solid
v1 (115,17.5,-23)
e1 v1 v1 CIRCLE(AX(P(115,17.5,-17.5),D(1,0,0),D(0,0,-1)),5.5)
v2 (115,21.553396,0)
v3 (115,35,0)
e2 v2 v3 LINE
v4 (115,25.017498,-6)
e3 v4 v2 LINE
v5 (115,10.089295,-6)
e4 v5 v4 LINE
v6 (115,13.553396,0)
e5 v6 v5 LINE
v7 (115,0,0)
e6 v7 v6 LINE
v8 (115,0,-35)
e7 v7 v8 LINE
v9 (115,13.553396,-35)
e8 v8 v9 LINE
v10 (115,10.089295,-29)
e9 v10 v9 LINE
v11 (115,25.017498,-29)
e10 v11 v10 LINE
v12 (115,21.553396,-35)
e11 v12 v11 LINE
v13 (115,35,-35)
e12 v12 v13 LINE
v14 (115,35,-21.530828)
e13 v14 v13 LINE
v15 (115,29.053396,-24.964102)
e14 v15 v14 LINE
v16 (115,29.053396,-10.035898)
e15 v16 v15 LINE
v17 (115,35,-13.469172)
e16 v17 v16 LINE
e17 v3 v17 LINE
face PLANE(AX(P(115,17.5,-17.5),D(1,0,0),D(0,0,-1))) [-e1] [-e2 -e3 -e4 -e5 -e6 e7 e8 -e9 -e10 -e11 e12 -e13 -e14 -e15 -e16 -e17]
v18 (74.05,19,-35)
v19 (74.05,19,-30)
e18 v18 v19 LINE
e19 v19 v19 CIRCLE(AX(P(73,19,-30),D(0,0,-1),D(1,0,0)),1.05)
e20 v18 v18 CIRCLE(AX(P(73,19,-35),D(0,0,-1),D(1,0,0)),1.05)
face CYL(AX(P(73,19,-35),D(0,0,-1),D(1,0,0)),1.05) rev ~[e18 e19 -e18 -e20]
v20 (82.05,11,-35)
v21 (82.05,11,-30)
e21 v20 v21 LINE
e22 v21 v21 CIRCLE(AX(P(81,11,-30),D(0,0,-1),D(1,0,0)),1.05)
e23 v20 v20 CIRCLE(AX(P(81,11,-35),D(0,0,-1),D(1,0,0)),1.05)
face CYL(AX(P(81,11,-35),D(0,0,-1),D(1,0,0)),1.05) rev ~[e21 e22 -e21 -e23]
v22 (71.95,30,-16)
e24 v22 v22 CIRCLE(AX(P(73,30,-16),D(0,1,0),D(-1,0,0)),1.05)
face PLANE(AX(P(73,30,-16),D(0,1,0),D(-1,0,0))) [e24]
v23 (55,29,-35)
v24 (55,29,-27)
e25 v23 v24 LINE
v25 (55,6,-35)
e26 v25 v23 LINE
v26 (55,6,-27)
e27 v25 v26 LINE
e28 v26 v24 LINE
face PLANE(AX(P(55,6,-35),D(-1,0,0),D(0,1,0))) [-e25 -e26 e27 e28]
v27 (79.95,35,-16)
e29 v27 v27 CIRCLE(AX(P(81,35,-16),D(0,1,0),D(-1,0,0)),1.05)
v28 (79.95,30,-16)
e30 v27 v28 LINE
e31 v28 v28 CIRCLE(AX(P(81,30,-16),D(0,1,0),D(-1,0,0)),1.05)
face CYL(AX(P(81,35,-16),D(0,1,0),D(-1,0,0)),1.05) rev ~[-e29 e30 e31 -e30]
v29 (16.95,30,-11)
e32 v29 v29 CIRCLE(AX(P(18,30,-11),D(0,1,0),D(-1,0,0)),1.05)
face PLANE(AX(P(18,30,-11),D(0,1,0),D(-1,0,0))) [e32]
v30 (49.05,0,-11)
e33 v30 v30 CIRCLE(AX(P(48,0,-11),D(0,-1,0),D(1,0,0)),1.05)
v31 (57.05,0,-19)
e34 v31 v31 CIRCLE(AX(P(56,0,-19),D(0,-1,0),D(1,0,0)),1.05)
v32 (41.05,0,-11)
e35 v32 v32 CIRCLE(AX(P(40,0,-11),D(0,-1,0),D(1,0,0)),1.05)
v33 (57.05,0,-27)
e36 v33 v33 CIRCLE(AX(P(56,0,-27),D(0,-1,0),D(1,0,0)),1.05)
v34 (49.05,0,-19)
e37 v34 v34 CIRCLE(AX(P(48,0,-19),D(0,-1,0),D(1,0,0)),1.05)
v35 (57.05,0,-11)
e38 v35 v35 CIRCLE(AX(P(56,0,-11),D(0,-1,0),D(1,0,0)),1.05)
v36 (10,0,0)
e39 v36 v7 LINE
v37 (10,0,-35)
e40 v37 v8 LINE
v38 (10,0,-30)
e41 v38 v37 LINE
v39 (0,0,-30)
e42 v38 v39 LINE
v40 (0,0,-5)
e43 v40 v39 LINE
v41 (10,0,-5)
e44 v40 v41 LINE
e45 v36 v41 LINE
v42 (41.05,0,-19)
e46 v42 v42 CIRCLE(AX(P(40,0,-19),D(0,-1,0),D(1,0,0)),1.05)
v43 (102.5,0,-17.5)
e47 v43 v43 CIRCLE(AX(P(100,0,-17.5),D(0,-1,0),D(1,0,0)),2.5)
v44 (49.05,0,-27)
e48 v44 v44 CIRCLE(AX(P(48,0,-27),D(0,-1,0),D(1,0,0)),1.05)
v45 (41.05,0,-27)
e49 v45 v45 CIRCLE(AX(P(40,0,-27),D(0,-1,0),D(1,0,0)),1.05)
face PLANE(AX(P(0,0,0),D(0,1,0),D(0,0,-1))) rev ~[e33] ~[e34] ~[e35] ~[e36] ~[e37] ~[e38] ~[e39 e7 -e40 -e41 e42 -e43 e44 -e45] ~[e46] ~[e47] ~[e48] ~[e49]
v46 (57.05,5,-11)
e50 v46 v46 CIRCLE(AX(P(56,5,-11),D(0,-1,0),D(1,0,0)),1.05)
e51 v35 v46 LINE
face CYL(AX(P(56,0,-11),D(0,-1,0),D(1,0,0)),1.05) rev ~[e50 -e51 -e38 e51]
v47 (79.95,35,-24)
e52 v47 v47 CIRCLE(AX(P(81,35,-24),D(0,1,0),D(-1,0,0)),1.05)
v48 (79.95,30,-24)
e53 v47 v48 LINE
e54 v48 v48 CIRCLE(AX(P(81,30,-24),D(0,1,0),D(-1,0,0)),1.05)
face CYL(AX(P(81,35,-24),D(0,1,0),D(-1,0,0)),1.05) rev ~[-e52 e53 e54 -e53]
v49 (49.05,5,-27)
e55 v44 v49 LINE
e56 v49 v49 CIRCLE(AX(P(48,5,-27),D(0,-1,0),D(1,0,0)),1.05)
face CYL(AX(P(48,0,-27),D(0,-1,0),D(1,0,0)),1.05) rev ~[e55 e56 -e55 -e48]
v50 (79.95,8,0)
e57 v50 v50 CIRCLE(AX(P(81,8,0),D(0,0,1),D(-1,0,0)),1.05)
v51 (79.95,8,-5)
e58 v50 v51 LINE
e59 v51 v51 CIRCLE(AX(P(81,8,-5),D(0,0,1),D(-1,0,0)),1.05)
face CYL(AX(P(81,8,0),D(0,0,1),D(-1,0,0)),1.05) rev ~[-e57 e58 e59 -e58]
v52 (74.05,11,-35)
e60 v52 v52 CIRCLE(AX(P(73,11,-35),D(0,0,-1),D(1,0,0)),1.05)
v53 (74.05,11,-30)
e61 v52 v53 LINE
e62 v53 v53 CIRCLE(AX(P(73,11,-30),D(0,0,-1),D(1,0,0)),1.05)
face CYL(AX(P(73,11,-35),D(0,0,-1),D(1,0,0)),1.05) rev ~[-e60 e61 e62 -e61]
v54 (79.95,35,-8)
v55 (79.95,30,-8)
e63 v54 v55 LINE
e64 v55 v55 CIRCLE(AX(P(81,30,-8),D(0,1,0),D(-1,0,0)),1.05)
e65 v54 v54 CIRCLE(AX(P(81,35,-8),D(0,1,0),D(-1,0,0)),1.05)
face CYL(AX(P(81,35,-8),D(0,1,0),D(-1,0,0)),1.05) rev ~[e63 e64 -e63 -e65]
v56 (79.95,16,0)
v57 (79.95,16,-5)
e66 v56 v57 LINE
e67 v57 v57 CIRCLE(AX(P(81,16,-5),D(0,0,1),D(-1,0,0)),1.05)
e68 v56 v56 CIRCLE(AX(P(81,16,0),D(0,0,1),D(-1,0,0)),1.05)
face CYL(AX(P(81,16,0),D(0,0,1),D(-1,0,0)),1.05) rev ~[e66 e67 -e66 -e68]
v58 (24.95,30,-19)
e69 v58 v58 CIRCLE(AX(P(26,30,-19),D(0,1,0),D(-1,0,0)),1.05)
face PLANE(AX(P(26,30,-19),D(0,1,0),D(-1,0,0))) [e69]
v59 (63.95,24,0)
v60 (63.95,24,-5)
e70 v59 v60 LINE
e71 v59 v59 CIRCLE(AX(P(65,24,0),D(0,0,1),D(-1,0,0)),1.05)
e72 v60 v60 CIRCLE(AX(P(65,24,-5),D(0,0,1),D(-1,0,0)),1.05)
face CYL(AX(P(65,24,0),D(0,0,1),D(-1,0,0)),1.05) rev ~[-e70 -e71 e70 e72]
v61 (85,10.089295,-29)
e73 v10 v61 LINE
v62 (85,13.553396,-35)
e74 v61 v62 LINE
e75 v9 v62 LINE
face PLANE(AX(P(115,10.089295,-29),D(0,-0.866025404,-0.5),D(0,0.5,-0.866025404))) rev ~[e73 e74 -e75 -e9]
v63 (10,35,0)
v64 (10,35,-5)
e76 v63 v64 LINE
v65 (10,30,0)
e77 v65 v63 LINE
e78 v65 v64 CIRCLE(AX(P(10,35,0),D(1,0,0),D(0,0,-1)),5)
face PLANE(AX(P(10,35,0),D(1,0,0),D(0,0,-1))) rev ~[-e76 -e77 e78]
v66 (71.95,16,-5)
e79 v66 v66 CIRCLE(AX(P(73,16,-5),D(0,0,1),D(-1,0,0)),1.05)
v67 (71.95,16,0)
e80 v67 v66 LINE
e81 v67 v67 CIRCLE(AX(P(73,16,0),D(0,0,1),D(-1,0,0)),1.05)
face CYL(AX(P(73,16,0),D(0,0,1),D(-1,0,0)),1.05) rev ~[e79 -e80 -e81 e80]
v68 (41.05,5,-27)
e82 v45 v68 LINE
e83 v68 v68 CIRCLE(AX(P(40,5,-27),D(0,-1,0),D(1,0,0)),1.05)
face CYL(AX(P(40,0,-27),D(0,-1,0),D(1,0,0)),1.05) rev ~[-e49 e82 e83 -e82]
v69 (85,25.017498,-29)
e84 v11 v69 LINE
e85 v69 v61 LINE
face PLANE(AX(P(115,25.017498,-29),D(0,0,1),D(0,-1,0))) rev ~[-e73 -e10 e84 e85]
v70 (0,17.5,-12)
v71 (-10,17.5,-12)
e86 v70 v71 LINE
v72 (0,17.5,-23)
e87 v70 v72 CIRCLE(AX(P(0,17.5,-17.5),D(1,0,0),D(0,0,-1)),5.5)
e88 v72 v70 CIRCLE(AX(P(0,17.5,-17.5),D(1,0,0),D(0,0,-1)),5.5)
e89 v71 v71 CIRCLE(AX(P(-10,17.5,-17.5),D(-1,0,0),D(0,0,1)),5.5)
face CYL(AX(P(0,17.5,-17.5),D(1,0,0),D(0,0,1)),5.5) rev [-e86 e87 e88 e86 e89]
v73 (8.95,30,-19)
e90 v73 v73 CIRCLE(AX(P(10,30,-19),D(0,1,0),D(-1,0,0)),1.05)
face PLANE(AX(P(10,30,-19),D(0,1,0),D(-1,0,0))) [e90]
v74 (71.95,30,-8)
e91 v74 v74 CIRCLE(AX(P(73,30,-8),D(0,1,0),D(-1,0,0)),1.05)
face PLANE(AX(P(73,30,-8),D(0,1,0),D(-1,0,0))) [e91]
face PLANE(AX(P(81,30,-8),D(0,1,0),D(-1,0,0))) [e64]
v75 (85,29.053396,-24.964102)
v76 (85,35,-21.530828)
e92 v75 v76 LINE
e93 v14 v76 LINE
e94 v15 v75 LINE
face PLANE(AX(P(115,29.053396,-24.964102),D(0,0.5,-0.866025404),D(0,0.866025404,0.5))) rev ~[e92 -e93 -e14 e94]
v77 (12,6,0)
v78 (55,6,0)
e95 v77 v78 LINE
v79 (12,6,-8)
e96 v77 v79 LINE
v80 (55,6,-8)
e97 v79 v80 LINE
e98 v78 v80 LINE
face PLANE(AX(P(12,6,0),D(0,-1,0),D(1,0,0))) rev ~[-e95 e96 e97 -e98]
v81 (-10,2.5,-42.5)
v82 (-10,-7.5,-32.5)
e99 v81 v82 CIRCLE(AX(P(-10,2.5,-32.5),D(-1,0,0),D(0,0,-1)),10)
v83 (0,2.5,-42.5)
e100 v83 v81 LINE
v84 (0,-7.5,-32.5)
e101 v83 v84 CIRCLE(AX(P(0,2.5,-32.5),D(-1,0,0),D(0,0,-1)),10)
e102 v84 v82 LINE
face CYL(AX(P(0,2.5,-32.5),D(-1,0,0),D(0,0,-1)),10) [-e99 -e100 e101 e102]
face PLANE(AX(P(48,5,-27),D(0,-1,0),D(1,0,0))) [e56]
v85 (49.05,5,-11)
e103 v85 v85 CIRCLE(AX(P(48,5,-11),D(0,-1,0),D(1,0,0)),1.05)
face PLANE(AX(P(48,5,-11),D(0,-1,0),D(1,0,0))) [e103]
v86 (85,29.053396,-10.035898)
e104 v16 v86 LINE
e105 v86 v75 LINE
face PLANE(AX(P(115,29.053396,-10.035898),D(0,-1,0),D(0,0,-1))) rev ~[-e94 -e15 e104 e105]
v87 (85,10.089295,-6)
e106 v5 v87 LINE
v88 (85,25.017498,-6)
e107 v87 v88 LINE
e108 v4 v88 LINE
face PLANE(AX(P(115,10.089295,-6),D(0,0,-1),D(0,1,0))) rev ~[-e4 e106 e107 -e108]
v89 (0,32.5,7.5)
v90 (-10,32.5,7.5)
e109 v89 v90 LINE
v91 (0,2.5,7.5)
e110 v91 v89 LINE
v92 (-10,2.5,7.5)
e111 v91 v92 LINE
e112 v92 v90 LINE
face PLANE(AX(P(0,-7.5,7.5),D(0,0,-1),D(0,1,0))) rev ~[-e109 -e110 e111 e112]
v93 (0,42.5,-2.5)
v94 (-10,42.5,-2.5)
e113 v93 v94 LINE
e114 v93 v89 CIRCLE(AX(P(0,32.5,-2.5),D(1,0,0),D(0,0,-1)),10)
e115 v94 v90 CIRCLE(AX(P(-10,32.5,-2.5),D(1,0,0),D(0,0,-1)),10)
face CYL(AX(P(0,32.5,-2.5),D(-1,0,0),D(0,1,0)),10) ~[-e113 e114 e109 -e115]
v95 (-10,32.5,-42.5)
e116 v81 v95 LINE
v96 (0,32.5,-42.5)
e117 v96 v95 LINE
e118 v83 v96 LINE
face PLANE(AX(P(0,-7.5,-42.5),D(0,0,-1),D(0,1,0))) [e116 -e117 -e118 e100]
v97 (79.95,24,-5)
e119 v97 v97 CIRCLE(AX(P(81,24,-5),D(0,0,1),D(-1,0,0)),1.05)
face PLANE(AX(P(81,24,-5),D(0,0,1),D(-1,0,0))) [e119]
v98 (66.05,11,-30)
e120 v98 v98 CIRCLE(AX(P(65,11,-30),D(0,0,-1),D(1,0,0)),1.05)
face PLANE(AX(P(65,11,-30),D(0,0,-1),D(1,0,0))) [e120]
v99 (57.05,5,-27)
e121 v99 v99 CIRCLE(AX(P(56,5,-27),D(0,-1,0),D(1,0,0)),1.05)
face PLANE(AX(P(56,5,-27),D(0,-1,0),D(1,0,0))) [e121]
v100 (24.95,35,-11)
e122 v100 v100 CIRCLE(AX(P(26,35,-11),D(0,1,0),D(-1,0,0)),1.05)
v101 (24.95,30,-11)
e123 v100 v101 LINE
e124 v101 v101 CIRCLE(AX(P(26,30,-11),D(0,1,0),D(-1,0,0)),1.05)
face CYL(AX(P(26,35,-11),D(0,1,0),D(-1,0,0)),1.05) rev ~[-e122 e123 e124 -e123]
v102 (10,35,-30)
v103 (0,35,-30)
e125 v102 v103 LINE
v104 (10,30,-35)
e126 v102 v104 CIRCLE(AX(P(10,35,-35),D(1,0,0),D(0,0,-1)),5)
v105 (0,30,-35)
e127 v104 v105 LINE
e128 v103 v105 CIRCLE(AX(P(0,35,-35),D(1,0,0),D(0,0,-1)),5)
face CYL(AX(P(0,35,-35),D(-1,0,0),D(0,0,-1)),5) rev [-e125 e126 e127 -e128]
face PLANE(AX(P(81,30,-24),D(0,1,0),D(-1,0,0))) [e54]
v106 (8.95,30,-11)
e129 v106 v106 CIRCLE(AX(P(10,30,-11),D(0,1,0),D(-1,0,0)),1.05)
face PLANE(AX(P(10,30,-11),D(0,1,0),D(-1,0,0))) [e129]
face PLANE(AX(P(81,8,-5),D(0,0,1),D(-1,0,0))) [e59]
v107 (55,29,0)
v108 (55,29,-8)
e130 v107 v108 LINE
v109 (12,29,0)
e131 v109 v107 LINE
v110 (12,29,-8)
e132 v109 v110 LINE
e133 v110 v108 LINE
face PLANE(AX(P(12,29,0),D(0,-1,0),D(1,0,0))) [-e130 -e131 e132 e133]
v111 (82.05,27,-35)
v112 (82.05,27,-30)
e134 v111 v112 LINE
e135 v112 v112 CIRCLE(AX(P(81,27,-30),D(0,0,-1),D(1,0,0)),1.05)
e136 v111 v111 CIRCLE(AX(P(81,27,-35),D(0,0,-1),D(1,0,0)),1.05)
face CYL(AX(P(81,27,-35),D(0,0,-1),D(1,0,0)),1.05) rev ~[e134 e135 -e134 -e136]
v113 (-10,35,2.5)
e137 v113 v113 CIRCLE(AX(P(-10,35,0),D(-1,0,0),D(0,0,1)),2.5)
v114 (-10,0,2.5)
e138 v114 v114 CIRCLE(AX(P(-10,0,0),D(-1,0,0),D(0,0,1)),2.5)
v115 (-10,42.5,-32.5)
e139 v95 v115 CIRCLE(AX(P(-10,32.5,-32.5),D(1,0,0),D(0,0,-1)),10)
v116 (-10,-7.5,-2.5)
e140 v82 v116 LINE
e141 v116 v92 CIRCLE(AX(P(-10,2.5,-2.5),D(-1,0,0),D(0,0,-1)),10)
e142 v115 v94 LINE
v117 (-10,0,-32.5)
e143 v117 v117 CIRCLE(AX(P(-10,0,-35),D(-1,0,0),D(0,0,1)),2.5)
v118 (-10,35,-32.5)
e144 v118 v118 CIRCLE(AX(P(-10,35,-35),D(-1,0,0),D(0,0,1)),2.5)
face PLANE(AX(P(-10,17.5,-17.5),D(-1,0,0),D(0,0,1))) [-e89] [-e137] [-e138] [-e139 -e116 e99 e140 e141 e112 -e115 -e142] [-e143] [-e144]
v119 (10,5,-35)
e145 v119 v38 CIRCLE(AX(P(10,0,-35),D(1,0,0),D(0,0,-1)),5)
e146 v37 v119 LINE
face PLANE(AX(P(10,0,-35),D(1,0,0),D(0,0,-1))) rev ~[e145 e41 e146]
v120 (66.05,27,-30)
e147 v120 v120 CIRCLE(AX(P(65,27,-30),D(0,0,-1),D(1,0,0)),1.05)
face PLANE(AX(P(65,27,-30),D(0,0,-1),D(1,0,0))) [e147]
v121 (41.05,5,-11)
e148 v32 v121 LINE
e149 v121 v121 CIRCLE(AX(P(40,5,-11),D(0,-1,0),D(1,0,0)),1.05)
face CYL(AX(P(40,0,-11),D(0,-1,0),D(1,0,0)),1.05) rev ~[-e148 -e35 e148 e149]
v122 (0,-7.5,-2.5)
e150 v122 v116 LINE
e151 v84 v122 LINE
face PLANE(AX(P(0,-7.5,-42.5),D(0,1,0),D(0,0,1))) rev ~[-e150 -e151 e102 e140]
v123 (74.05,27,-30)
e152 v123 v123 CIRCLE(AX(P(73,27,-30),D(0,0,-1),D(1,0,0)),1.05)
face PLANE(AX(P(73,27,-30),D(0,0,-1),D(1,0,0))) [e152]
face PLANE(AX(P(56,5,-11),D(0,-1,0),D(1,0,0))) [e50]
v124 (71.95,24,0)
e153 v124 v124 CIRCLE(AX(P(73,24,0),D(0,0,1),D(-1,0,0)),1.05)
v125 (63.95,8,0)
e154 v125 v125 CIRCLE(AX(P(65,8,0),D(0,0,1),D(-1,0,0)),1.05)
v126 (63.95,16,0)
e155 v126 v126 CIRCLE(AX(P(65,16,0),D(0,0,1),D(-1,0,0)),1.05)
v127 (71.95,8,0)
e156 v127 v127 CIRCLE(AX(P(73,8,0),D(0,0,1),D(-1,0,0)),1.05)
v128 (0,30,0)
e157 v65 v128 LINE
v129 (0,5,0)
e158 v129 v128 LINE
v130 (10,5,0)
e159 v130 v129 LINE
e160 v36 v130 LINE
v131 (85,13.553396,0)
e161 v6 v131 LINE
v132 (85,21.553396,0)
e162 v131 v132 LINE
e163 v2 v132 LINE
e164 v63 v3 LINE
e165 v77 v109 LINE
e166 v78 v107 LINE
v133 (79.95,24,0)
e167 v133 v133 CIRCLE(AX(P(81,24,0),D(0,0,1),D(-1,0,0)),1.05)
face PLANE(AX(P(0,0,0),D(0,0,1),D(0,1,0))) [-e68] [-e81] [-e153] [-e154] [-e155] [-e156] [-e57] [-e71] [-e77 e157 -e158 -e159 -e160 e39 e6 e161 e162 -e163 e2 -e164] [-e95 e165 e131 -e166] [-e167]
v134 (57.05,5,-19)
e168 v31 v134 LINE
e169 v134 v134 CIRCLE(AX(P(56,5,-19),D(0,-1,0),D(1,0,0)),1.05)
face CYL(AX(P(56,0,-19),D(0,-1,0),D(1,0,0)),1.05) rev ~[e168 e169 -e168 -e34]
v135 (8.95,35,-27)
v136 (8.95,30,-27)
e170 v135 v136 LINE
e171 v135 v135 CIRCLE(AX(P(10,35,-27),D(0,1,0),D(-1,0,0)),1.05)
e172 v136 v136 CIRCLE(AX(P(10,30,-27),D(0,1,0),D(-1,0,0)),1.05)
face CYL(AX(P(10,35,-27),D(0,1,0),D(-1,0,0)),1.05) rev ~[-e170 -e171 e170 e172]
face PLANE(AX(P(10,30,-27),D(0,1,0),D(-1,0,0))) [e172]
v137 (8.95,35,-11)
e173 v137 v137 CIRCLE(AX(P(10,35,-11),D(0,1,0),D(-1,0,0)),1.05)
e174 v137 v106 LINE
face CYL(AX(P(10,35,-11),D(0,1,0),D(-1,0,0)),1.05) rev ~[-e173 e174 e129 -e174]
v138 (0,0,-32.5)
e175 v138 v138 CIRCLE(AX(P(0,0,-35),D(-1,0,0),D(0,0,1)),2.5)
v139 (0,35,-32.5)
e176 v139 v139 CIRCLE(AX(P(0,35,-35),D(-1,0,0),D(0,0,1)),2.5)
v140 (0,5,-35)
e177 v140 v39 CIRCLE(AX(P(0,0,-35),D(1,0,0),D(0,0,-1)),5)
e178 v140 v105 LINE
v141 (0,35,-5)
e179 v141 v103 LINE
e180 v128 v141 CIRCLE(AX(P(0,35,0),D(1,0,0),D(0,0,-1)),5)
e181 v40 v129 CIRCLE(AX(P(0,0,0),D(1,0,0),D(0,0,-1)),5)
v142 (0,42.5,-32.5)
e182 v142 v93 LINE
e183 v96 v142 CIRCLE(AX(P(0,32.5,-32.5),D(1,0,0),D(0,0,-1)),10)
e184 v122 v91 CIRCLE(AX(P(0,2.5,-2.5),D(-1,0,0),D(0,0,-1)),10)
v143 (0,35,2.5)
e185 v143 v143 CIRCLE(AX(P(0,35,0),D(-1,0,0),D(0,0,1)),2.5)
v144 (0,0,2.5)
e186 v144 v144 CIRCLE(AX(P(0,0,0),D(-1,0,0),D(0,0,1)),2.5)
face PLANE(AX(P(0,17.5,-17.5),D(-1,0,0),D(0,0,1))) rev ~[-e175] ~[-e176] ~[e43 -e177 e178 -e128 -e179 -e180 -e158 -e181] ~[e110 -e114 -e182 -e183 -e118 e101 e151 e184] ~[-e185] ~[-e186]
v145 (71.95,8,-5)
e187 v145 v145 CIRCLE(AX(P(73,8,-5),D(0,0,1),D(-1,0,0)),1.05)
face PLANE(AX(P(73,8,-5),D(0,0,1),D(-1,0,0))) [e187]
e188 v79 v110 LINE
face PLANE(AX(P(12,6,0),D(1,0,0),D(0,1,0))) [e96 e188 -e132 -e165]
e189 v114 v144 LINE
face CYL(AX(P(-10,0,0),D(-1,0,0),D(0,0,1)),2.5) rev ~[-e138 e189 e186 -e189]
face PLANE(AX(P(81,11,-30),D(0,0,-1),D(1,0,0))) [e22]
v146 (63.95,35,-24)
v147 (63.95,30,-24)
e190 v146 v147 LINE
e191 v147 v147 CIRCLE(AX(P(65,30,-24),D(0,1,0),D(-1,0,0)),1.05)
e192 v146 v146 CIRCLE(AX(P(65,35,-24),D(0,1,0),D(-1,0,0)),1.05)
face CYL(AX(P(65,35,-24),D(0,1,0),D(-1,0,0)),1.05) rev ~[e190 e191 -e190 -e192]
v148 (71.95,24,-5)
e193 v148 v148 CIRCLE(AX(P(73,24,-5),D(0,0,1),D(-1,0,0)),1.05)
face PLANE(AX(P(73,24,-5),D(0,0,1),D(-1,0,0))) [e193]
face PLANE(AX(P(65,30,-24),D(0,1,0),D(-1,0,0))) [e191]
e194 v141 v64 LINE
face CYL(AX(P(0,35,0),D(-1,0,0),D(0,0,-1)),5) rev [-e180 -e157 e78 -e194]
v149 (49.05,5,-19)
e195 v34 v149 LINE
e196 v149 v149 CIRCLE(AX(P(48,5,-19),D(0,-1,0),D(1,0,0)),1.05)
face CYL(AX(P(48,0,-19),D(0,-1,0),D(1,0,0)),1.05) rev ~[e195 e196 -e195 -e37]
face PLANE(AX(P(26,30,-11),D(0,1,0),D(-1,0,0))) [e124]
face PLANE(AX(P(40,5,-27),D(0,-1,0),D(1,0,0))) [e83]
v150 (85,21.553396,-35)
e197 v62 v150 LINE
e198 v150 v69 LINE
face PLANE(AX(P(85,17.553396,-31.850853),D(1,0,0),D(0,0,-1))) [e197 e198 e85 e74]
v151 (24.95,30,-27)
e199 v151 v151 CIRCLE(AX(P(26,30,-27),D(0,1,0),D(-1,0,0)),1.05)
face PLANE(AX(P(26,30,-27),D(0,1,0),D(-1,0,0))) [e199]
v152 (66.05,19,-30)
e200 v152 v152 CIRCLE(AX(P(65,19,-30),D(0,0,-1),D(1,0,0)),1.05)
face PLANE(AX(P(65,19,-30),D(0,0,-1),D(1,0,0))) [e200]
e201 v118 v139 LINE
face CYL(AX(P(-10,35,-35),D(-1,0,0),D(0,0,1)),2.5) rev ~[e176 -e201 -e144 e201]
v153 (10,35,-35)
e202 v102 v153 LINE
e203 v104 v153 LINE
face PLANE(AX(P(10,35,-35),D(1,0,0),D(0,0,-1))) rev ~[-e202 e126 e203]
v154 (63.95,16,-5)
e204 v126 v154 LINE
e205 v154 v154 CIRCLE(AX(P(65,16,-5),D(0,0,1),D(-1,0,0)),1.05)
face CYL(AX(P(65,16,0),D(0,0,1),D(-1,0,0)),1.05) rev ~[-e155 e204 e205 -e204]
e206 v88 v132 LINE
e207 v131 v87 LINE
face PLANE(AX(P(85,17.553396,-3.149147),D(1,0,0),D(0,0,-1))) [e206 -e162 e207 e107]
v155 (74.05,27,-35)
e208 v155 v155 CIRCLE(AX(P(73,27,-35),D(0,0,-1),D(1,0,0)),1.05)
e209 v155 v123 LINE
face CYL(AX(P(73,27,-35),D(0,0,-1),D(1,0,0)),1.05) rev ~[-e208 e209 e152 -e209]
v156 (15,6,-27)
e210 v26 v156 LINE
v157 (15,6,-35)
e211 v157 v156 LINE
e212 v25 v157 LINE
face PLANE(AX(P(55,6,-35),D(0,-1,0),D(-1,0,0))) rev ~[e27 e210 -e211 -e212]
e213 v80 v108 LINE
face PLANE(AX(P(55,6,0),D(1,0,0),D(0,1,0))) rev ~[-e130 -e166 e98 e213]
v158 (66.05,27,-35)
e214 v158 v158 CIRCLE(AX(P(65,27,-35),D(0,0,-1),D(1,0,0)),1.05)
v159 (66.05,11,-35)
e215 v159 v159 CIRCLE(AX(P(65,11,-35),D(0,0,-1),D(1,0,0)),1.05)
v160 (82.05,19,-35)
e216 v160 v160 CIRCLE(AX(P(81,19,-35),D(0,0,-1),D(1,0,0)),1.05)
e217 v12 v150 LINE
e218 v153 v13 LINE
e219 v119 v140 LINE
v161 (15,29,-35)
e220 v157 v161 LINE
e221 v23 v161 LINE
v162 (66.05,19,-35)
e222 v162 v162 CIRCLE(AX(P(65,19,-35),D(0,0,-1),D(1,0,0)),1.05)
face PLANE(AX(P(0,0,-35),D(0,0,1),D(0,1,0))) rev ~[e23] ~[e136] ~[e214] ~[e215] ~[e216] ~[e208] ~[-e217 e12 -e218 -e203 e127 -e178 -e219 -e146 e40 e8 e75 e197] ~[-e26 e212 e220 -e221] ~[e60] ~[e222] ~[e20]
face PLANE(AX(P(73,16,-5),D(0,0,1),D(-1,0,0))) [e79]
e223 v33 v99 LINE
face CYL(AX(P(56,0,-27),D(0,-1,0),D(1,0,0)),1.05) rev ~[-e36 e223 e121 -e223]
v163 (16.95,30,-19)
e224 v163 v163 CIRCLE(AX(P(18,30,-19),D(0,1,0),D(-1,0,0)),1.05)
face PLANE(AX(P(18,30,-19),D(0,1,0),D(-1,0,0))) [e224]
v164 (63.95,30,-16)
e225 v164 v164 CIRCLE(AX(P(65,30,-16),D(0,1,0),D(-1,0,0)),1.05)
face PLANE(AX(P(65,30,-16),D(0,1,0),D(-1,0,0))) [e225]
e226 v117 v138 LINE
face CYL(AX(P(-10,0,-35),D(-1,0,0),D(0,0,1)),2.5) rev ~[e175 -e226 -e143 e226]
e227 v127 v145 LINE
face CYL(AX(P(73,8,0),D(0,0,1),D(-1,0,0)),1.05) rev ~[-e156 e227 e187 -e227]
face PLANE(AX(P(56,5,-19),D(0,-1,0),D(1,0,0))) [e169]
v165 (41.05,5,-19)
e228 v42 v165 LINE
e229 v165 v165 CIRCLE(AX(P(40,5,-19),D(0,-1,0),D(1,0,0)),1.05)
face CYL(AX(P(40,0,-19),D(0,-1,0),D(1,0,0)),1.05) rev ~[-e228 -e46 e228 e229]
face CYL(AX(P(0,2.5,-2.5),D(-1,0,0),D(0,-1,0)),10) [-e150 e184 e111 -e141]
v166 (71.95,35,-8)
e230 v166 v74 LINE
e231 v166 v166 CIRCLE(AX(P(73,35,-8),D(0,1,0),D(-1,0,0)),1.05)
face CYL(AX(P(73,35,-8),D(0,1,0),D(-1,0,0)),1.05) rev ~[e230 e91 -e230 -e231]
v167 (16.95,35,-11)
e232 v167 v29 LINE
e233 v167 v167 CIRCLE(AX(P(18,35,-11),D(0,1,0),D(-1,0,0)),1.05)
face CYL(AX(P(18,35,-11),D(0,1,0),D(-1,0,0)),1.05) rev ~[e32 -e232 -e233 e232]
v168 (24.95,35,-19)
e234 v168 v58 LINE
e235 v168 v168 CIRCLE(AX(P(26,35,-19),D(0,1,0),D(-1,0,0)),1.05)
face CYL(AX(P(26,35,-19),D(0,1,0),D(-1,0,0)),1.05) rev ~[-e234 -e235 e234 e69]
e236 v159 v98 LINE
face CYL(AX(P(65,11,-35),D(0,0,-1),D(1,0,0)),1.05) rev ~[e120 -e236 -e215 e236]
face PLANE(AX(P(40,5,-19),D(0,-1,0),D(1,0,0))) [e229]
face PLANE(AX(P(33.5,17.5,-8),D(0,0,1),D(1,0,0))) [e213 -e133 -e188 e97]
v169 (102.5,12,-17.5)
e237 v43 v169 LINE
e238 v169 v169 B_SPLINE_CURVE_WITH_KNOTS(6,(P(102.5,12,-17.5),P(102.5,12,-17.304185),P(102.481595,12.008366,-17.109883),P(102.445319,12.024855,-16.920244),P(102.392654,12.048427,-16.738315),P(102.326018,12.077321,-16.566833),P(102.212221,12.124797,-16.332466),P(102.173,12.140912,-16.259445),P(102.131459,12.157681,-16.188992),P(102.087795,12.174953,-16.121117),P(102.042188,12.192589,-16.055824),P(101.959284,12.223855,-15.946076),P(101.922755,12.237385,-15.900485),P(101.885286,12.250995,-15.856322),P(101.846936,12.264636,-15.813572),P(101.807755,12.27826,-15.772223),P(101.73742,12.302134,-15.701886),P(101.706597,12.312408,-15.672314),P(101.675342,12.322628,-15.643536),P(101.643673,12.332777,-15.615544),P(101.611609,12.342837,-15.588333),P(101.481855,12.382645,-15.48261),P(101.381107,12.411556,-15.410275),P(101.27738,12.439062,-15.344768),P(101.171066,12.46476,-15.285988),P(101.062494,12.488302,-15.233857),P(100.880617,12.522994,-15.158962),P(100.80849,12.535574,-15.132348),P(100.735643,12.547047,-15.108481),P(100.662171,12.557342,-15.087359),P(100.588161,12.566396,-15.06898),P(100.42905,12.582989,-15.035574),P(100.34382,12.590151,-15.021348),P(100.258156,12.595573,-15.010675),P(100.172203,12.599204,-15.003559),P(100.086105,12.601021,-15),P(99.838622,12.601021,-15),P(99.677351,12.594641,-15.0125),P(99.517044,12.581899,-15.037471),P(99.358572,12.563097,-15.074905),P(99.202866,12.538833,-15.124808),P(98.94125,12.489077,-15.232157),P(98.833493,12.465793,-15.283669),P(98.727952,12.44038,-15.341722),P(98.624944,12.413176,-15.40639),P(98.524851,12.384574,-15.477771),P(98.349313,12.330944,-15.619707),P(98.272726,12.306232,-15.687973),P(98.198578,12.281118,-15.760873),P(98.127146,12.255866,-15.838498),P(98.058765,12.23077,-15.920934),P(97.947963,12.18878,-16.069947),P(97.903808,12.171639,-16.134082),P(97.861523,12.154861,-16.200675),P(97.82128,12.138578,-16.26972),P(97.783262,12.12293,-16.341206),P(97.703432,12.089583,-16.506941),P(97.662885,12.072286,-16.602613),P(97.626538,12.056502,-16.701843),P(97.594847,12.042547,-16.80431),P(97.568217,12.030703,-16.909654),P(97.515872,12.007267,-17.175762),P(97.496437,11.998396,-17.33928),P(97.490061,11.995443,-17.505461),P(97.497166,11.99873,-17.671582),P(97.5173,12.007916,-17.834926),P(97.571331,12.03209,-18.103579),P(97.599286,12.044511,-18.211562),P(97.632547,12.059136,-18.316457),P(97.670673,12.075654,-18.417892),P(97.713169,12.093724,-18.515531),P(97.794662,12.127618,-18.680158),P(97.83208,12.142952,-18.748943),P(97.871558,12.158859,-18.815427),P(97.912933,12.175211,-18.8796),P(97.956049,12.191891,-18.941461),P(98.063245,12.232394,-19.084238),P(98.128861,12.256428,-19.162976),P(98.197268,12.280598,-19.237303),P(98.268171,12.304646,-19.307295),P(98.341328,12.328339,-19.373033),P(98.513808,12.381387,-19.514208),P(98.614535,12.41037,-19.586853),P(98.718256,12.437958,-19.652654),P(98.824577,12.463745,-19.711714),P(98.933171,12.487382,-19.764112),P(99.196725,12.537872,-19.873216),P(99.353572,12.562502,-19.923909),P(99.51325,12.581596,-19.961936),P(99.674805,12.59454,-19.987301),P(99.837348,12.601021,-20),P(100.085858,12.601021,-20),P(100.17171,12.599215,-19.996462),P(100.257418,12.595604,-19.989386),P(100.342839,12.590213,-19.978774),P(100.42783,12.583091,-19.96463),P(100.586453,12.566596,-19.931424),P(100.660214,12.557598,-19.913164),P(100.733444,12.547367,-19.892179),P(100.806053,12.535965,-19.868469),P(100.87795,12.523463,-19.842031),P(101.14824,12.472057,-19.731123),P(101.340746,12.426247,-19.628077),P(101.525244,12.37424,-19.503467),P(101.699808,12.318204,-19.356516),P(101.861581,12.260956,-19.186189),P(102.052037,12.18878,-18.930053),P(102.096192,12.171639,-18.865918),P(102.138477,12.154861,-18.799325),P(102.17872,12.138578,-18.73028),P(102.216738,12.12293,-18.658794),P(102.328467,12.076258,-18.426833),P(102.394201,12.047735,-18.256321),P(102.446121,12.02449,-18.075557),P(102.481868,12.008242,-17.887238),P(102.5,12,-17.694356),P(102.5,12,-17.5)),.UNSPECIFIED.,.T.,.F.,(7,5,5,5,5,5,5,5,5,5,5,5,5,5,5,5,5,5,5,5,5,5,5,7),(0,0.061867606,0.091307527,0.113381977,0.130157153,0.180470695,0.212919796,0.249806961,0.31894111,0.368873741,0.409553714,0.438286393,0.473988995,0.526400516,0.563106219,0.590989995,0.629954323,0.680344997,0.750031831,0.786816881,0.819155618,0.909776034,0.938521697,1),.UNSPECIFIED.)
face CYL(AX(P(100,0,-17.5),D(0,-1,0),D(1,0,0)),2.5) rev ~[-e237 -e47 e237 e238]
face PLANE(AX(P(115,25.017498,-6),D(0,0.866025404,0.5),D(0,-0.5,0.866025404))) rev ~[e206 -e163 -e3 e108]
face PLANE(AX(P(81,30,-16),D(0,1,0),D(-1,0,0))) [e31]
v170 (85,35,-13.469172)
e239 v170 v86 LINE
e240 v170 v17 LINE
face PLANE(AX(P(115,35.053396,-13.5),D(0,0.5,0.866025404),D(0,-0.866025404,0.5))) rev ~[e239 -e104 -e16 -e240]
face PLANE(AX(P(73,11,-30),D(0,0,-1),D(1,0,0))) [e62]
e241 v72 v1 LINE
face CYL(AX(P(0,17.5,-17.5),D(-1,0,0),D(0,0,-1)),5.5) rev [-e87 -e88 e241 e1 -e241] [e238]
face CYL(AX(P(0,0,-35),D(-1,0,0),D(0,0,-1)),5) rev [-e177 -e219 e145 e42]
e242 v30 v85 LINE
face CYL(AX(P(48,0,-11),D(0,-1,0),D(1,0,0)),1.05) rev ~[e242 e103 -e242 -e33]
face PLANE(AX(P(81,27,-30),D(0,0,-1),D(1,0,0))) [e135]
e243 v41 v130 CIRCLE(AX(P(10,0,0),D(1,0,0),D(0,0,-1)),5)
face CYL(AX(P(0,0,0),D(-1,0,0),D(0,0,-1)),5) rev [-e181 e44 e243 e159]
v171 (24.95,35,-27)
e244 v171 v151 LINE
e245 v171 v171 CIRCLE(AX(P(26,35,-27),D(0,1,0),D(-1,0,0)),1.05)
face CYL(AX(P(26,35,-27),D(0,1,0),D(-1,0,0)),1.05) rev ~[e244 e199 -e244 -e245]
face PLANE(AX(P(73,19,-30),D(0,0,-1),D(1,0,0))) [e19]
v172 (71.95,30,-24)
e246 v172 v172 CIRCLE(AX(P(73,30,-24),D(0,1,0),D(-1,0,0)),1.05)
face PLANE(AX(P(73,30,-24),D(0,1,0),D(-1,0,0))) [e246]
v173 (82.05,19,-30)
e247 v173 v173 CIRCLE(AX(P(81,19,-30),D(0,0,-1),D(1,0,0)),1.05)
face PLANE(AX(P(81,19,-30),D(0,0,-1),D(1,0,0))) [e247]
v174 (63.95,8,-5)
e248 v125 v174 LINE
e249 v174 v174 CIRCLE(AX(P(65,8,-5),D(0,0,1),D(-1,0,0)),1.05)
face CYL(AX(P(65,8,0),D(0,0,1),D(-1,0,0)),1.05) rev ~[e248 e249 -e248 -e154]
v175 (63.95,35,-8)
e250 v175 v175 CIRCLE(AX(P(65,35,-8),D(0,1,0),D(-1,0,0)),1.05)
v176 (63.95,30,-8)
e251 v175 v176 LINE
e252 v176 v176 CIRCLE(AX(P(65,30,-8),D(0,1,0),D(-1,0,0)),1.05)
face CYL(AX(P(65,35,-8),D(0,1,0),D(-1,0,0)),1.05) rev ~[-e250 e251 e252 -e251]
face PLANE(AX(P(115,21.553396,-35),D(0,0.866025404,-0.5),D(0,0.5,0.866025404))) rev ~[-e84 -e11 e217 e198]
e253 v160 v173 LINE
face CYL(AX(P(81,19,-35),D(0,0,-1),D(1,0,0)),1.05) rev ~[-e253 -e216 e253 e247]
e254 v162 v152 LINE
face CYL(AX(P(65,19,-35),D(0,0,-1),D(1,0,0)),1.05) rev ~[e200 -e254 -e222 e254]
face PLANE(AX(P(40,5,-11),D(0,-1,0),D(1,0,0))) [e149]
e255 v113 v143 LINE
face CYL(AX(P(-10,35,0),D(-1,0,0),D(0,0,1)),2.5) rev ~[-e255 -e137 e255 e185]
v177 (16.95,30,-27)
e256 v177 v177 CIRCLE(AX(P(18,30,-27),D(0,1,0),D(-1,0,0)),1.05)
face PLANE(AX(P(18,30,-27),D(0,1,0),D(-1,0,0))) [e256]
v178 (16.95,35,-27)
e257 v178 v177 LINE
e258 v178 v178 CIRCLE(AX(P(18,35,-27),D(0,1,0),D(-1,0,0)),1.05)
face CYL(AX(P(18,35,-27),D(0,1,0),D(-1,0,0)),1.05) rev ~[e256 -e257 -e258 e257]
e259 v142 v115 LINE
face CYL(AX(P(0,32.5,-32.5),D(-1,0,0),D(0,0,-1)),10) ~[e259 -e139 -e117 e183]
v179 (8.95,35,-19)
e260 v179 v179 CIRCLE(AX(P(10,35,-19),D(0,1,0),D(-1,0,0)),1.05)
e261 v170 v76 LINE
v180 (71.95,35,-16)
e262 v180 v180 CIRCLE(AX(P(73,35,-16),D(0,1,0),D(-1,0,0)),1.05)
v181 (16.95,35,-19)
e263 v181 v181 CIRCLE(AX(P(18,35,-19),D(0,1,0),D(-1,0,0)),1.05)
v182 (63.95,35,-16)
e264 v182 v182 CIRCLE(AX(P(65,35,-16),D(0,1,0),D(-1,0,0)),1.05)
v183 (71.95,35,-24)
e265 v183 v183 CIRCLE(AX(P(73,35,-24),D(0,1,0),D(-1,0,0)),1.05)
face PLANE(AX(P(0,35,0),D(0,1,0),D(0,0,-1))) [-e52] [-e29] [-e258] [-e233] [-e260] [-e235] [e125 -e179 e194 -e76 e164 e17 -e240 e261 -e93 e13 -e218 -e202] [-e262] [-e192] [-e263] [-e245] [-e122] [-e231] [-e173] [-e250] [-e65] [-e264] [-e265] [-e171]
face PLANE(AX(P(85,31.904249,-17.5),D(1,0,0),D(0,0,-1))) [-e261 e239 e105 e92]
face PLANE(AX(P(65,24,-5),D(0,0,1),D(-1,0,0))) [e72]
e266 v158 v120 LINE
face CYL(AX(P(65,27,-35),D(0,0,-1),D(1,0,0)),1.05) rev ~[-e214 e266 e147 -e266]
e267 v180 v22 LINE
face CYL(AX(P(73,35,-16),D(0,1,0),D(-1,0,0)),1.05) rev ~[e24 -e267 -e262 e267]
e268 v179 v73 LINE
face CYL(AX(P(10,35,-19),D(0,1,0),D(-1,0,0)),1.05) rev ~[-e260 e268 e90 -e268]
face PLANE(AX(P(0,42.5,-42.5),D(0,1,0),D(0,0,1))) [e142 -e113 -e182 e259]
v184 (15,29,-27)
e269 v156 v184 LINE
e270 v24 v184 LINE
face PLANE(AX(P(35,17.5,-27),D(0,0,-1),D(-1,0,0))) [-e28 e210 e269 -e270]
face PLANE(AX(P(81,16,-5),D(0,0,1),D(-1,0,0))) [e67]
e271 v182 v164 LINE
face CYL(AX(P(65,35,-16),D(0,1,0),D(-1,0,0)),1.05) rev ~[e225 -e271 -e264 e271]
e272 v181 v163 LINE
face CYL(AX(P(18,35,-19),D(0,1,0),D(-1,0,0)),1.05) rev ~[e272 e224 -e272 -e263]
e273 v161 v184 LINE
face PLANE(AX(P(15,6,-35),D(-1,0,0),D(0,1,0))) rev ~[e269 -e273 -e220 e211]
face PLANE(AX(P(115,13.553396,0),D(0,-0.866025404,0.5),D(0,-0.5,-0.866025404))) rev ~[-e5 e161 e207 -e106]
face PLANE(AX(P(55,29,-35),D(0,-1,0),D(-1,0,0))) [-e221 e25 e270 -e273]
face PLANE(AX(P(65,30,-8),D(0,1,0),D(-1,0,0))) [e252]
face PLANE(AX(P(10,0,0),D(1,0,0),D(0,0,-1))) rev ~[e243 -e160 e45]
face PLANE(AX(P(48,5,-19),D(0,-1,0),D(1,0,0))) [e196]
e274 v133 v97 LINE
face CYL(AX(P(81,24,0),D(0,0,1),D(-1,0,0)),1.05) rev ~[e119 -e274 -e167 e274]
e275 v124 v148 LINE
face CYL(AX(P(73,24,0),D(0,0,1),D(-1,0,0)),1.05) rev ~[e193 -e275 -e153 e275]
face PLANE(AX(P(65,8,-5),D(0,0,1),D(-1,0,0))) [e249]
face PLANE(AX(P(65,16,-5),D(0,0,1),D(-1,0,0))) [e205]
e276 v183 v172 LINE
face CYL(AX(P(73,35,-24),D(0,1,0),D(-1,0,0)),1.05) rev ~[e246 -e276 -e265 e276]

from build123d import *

# Parameters (mm, degrees)
SKETCH1_W           = 35
SKETCH1_H           = 35
SKETCH1_R           = 5.5
BOSS_EXTRUDE1_DEPTH = 115
CUT_EXTRUDE2_DEPTH  = 30
SKETCH3_W           = 50
SKETCH3_H           = 50
SKETCH3_R           = 5.5
BOSS_EXTRUDE2_DEPTH = 10
SKETCH4_R           = 2.5
CUT_EXTRUDE3_DEPTH  = 15
SKETCH6_R           = 1.05
CUT_EXTRUDE4_DEPTH  = 5
SKETCH7_R           = 1.05
CUT_EXTRUDE5_DEPTH  = 5
SKETCH8_R           = 1.05
CUT_EXTRUDE6_DEPTH  = 5
SKETCH9_R           = 1.05
CUT_EXTRUDE7_DEPTH  = 5
SKETCH11_R          = 1.05
CUT_EXTRUDE8_DEPTH  = 5
SKETCH12_W          = 43
SKETCH12_H          = 23
CUT_EXTRUDE9_DEPTH  = 8
SKETCH13_W          = 40
SKETCH13_H          = 23
CUT_EXTRUDE10_DEPTH = 8
FILLET1_R           = 10
SKETCH14_R          = 5
CUT_EXTRUDE11_DEPTH = 10
CUT_EXTRUDE12_REACH = 44.5
SKETCH15_R          = 2.5


with BuildPart() as part:
    # Sketch1 → Boss-Extrude1 (new body)
    with BuildSketch(Plane(origin=(0, 0, 0), x_dir=(0, 0, -1), z_dir=(1, 0, 0))):
        with Locations((17.5, 17.5)):
            Rectangle(SKETCH1_W, SKETCH1_H)
        with Locations((17.5, 17.5)):
            Circle(SKETCH1_R, mode=Mode.SUBTRACT)
    extrude(amount=BOSS_EXTRUDE1_DEPTH)

    # Sketch2 → Cut-Extrude2 (cut)
    with BuildSketch(Plane(origin=(115, 0, 0), x_dir=(0, 0, -1), z_dir=(1, 0, 0))):
        Polygon((0, 13.553396292), (6, 10.089294677), (6, 25.017497907), (0, 21.553396292), (-1, 21.553396292), (-1, 13.553396292), align=None)
        Polygon((21.5, 35.053396292), (21.5, 36.053396292), (13.5, 36.053396292), (13.5, 35.053396292), (10.035898385, 29.053396292), (24.964101615, 29.053396292), align=None)
        Polygon((35, 13.553396292), (36, 13.553396292), (36, 21.553396292), (35, 21.553396292), (29, 25.017497907), (29, 10.089294677), align=None)
    extrude(amount=-CUT_EXTRUDE2_DEPTH, mode=Mode.SUBTRACT)

    # Sketch3 → Boss-Extrude2 (add)
    with BuildSketch(Plane.ZY):
        with Locations((-17.5, 17.5)):
            Rectangle(SKETCH3_W, SKETCH3_H)
        with Locations((-17.5, 17.5)):
            Circle(SKETCH3_R, mode=Mode.SUBTRACT)
    extrude(amount=BOSS_EXTRUDE2_DEPTH)

    # Sketch4 → Cut-Extrude3 (cut)
    with BuildSketch(Plane.ZY.offset(10)):
        with Locations((-35, 35)):
            Circle(SKETCH4_R)
        with Locations((-35, 0)):
            Circle(SKETCH4_R)
        Circle(SKETCH4_R)
        with Locations((0, 35)):
            Circle(SKETCH4_R)
    extrude(amount=-CUT_EXTRUDE3_DEPTH, mode=Mode.SUBTRACT)

    # Sketch6 → Cut-Extrude4 (cut)
    with BuildSketch(Plane(origin=(0, 0, 0), x_dir=(-1, 0, 0), z_dir=(0, 0, 1))):
        with Locations((-65, -8)):
            Circle(SKETCH6_R)
        with Locations((-73, -8)):
            Circle(SKETCH6_R)
        with Locations((-81, -8)):
            Circle(SKETCH6_R)
        with Locations((-73, -16)):
            Circle(SKETCH6_R)
        with Locations((-81, -16)):
            Circle(SKETCH6_R)
        with Locations((-73, -24)):
            Circle(SKETCH6_R)
        with Locations((-81, -24)):
            Circle(SKETCH6_R)
        with Locations((-65, -16)):
            Circle(SKETCH6_R)
        with Locations((-65, -24)):
            Circle(SKETCH6_R)
    extrude(amount=-CUT_EXTRUDE4_DEPTH, mode=Mode.SUBTRACT)

    # Sketch7 → Cut-Extrude5 (cut)
    with BuildSketch(Plane(origin=(0, 35, 0), x_dir=(-1, 0, 0), z_dir=(0, 1, 0))):
        with Locations((-65, -8)):
            Circle(SKETCH7_R)
        with Locations((-73, -8)):
            Circle(SKETCH7_R)
        with Locations((-81, -8)):
            Circle(SKETCH7_R)
        with Locations((-73, -16)):
            Circle(SKETCH7_R)
        with Locations((-81, -16)):
            Circle(SKETCH7_R)
        with Locations((-73, -24)):
            Circle(SKETCH7_R)
        with Locations((-81, -24)):
            Circle(SKETCH7_R)
        with Locations((-65, -16)):
            Circle(SKETCH7_R)
        with Locations((-65, -24)):
            Circle(SKETCH7_R)
    extrude(amount=-CUT_EXTRUDE5_DEPTH, mode=Mode.SUBTRACT)

    # Sketch8 → Cut-Extrude6 (cut)
    with BuildSketch(Plane(origin=(0, 0, -35), x_dir=(1, 0, 0), z_dir=(0, 0, -1))):
        with Locations((81, -11)):
            Circle(SKETCH8_R)
        with Locations((73, -11)):
            Circle(SKETCH8_R)
        with Locations((65, -11)):
            Circle(SKETCH8_R)
        with Locations((73, -19)):
            Circle(SKETCH8_R)
        with Locations((65, -19)):
            Circle(SKETCH8_R)
        with Locations((73, -27)):
            Circle(SKETCH8_R)
        with Locations((65, -27)):
            Circle(SKETCH8_R)
        with Locations((81, -19)):
            Circle(SKETCH8_R)
        with Locations((81, -27)):
            Circle(SKETCH8_R)
    extrude(amount=-CUT_EXTRUDE6_DEPTH, mode=Mode.SUBTRACT)

    # Sketch9 → Cut-Extrude7 (cut)
    with BuildSketch(Plane.XZ):
        with Locations((56, -11)):
            Circle(SKETCH9_R)
        with Locations((48, -11)):
            Circle(SKETCH9_R)
        with Locations((40, -11)):
            Circle(SKETCH9_R)
        with Locations((48, -19)):
            Circle(SKETCH9_R)
        with Locations((40, -19)):
            Circle(SKETCH9_R)
        with Locations((48, -27)):
            Circle(SKETCH9_R)
        with Locations((40, -27)):
            Circle(SKETCH9_R)
        with Locations((56, -19)):
            Circle(SKETCH9_R)
        with Locations((56, -27)):
            Circle(SKETCH9_R)
    extrude(amount=-CUT_EXTRUDE7_DEPTH, mode=Mode.SUBTRACT)

    # Sketch11 → Cut-Extrude8 (cut)
    with BuildSketch(Plane(origin=(0, 35, 0), x_dir=(-1, 0, 0), z_dir=(0, 1, 0))):
        with Locations((-10, -11)):
            Circle(SKETCH11_R)
        with Locations((-18, -11)):
            Circle(SKETCH11_R)
        with Locations((-26, -11)):
            Circle(SKETCH11_R)
        with Locations((-18, -19)):
            Circle(SKETCH11_R)
        with Locations((-26, -19)):
            Circle(SKETCH11_R)
        with Locations((-18, -27)):
            Circle(SKETCH11_R)
        with Locations((-26, -27)):
            Circle(SKETCH11_R)
        with Locations((-10, -19)):
            Circle(SKETCH11_R)
        with Locations((-10, -27)):
            Circle(SKETCH11_R)
    extrude(amount=-CUT_EXTRUDE8_DEPTH, mode=Mode.SUBTRACT)

    # Sketch12 → Cut-Extrude9 (cut)
    with BuildSketch(Plane.XY):
        with Locations((33.5, 17.5)):
            Rectangle(SKETCH12_W, SKETCH12_H)
    extrude(amount=-CUT_EXTRUDE9_DEPTH, mode=Mode.SUBTRACT)

    # Sketch13 → Cut-Extrude10 (cut)
    with BuildSketch(Plane(origin=(0, 0, -35), x_dir=(-1, 0, 0), z_dir=(0, 0, -1))):
        with Locations((-35, 17.5)):
            Rectangle(SKETCH13_W, SKETCH13_H)
    extrude(amount=-CUT_EXTRUDE10_DEPTH, mode=Mode.SUBTRACT)

    # Fillet1
    fillet1_edges = [part.edges().sort_by_distance(p)[0] for p in [
        (-5, -7.5, 7.5),
        (-5, 42.5, 7.5),
        (-5, 42.5, -42.5),
        (-5, -7.5, -42.5),
    ]]
    fillet(fillet1_edges, radius=FILLET1_R)

    # Sketch14 → Cut-Extrude11 (cut)
    with BuildSketch(Plane(origin=(0, 0, 0), x_dir=(0, 0, -1), z_dir=(1, 0, 0))):
        Circle(SKETCH14_R)
        with Locations((35, 0)):
            Circle(SKETCH14_R)
        with Locations((35, 35)):
            Circle(SKETCH14_R)
        with Locations((0, 35)):
            Circle(SKETCH14_R)
    extrude(amount=CUT_EXTRUDE11_DEPTH, mode=Mode.SUBTRACT)

    # Sketch15 → Cut-Extrude12 (cut, up to next)
    with BuildSketch(Plane.XZ, mode=Mode.PRIVATE) as cut_extrude12_sk1:
        with Locations((100, -17.5)):
            Circle(SKETCH15_R)
    cut_extrude12_tool1 = extrude(cut_extrude12_sk1.sketch, amount=-CUT_EXTRUDE12_REACH, mode=Mode.PRIVATE) & part.part
    add(cut_extrude12_tool1.solids().sort_by_distance((100, 0, -17.5))[0], mode=Mode.SUBTRACT)


solid = part.part
